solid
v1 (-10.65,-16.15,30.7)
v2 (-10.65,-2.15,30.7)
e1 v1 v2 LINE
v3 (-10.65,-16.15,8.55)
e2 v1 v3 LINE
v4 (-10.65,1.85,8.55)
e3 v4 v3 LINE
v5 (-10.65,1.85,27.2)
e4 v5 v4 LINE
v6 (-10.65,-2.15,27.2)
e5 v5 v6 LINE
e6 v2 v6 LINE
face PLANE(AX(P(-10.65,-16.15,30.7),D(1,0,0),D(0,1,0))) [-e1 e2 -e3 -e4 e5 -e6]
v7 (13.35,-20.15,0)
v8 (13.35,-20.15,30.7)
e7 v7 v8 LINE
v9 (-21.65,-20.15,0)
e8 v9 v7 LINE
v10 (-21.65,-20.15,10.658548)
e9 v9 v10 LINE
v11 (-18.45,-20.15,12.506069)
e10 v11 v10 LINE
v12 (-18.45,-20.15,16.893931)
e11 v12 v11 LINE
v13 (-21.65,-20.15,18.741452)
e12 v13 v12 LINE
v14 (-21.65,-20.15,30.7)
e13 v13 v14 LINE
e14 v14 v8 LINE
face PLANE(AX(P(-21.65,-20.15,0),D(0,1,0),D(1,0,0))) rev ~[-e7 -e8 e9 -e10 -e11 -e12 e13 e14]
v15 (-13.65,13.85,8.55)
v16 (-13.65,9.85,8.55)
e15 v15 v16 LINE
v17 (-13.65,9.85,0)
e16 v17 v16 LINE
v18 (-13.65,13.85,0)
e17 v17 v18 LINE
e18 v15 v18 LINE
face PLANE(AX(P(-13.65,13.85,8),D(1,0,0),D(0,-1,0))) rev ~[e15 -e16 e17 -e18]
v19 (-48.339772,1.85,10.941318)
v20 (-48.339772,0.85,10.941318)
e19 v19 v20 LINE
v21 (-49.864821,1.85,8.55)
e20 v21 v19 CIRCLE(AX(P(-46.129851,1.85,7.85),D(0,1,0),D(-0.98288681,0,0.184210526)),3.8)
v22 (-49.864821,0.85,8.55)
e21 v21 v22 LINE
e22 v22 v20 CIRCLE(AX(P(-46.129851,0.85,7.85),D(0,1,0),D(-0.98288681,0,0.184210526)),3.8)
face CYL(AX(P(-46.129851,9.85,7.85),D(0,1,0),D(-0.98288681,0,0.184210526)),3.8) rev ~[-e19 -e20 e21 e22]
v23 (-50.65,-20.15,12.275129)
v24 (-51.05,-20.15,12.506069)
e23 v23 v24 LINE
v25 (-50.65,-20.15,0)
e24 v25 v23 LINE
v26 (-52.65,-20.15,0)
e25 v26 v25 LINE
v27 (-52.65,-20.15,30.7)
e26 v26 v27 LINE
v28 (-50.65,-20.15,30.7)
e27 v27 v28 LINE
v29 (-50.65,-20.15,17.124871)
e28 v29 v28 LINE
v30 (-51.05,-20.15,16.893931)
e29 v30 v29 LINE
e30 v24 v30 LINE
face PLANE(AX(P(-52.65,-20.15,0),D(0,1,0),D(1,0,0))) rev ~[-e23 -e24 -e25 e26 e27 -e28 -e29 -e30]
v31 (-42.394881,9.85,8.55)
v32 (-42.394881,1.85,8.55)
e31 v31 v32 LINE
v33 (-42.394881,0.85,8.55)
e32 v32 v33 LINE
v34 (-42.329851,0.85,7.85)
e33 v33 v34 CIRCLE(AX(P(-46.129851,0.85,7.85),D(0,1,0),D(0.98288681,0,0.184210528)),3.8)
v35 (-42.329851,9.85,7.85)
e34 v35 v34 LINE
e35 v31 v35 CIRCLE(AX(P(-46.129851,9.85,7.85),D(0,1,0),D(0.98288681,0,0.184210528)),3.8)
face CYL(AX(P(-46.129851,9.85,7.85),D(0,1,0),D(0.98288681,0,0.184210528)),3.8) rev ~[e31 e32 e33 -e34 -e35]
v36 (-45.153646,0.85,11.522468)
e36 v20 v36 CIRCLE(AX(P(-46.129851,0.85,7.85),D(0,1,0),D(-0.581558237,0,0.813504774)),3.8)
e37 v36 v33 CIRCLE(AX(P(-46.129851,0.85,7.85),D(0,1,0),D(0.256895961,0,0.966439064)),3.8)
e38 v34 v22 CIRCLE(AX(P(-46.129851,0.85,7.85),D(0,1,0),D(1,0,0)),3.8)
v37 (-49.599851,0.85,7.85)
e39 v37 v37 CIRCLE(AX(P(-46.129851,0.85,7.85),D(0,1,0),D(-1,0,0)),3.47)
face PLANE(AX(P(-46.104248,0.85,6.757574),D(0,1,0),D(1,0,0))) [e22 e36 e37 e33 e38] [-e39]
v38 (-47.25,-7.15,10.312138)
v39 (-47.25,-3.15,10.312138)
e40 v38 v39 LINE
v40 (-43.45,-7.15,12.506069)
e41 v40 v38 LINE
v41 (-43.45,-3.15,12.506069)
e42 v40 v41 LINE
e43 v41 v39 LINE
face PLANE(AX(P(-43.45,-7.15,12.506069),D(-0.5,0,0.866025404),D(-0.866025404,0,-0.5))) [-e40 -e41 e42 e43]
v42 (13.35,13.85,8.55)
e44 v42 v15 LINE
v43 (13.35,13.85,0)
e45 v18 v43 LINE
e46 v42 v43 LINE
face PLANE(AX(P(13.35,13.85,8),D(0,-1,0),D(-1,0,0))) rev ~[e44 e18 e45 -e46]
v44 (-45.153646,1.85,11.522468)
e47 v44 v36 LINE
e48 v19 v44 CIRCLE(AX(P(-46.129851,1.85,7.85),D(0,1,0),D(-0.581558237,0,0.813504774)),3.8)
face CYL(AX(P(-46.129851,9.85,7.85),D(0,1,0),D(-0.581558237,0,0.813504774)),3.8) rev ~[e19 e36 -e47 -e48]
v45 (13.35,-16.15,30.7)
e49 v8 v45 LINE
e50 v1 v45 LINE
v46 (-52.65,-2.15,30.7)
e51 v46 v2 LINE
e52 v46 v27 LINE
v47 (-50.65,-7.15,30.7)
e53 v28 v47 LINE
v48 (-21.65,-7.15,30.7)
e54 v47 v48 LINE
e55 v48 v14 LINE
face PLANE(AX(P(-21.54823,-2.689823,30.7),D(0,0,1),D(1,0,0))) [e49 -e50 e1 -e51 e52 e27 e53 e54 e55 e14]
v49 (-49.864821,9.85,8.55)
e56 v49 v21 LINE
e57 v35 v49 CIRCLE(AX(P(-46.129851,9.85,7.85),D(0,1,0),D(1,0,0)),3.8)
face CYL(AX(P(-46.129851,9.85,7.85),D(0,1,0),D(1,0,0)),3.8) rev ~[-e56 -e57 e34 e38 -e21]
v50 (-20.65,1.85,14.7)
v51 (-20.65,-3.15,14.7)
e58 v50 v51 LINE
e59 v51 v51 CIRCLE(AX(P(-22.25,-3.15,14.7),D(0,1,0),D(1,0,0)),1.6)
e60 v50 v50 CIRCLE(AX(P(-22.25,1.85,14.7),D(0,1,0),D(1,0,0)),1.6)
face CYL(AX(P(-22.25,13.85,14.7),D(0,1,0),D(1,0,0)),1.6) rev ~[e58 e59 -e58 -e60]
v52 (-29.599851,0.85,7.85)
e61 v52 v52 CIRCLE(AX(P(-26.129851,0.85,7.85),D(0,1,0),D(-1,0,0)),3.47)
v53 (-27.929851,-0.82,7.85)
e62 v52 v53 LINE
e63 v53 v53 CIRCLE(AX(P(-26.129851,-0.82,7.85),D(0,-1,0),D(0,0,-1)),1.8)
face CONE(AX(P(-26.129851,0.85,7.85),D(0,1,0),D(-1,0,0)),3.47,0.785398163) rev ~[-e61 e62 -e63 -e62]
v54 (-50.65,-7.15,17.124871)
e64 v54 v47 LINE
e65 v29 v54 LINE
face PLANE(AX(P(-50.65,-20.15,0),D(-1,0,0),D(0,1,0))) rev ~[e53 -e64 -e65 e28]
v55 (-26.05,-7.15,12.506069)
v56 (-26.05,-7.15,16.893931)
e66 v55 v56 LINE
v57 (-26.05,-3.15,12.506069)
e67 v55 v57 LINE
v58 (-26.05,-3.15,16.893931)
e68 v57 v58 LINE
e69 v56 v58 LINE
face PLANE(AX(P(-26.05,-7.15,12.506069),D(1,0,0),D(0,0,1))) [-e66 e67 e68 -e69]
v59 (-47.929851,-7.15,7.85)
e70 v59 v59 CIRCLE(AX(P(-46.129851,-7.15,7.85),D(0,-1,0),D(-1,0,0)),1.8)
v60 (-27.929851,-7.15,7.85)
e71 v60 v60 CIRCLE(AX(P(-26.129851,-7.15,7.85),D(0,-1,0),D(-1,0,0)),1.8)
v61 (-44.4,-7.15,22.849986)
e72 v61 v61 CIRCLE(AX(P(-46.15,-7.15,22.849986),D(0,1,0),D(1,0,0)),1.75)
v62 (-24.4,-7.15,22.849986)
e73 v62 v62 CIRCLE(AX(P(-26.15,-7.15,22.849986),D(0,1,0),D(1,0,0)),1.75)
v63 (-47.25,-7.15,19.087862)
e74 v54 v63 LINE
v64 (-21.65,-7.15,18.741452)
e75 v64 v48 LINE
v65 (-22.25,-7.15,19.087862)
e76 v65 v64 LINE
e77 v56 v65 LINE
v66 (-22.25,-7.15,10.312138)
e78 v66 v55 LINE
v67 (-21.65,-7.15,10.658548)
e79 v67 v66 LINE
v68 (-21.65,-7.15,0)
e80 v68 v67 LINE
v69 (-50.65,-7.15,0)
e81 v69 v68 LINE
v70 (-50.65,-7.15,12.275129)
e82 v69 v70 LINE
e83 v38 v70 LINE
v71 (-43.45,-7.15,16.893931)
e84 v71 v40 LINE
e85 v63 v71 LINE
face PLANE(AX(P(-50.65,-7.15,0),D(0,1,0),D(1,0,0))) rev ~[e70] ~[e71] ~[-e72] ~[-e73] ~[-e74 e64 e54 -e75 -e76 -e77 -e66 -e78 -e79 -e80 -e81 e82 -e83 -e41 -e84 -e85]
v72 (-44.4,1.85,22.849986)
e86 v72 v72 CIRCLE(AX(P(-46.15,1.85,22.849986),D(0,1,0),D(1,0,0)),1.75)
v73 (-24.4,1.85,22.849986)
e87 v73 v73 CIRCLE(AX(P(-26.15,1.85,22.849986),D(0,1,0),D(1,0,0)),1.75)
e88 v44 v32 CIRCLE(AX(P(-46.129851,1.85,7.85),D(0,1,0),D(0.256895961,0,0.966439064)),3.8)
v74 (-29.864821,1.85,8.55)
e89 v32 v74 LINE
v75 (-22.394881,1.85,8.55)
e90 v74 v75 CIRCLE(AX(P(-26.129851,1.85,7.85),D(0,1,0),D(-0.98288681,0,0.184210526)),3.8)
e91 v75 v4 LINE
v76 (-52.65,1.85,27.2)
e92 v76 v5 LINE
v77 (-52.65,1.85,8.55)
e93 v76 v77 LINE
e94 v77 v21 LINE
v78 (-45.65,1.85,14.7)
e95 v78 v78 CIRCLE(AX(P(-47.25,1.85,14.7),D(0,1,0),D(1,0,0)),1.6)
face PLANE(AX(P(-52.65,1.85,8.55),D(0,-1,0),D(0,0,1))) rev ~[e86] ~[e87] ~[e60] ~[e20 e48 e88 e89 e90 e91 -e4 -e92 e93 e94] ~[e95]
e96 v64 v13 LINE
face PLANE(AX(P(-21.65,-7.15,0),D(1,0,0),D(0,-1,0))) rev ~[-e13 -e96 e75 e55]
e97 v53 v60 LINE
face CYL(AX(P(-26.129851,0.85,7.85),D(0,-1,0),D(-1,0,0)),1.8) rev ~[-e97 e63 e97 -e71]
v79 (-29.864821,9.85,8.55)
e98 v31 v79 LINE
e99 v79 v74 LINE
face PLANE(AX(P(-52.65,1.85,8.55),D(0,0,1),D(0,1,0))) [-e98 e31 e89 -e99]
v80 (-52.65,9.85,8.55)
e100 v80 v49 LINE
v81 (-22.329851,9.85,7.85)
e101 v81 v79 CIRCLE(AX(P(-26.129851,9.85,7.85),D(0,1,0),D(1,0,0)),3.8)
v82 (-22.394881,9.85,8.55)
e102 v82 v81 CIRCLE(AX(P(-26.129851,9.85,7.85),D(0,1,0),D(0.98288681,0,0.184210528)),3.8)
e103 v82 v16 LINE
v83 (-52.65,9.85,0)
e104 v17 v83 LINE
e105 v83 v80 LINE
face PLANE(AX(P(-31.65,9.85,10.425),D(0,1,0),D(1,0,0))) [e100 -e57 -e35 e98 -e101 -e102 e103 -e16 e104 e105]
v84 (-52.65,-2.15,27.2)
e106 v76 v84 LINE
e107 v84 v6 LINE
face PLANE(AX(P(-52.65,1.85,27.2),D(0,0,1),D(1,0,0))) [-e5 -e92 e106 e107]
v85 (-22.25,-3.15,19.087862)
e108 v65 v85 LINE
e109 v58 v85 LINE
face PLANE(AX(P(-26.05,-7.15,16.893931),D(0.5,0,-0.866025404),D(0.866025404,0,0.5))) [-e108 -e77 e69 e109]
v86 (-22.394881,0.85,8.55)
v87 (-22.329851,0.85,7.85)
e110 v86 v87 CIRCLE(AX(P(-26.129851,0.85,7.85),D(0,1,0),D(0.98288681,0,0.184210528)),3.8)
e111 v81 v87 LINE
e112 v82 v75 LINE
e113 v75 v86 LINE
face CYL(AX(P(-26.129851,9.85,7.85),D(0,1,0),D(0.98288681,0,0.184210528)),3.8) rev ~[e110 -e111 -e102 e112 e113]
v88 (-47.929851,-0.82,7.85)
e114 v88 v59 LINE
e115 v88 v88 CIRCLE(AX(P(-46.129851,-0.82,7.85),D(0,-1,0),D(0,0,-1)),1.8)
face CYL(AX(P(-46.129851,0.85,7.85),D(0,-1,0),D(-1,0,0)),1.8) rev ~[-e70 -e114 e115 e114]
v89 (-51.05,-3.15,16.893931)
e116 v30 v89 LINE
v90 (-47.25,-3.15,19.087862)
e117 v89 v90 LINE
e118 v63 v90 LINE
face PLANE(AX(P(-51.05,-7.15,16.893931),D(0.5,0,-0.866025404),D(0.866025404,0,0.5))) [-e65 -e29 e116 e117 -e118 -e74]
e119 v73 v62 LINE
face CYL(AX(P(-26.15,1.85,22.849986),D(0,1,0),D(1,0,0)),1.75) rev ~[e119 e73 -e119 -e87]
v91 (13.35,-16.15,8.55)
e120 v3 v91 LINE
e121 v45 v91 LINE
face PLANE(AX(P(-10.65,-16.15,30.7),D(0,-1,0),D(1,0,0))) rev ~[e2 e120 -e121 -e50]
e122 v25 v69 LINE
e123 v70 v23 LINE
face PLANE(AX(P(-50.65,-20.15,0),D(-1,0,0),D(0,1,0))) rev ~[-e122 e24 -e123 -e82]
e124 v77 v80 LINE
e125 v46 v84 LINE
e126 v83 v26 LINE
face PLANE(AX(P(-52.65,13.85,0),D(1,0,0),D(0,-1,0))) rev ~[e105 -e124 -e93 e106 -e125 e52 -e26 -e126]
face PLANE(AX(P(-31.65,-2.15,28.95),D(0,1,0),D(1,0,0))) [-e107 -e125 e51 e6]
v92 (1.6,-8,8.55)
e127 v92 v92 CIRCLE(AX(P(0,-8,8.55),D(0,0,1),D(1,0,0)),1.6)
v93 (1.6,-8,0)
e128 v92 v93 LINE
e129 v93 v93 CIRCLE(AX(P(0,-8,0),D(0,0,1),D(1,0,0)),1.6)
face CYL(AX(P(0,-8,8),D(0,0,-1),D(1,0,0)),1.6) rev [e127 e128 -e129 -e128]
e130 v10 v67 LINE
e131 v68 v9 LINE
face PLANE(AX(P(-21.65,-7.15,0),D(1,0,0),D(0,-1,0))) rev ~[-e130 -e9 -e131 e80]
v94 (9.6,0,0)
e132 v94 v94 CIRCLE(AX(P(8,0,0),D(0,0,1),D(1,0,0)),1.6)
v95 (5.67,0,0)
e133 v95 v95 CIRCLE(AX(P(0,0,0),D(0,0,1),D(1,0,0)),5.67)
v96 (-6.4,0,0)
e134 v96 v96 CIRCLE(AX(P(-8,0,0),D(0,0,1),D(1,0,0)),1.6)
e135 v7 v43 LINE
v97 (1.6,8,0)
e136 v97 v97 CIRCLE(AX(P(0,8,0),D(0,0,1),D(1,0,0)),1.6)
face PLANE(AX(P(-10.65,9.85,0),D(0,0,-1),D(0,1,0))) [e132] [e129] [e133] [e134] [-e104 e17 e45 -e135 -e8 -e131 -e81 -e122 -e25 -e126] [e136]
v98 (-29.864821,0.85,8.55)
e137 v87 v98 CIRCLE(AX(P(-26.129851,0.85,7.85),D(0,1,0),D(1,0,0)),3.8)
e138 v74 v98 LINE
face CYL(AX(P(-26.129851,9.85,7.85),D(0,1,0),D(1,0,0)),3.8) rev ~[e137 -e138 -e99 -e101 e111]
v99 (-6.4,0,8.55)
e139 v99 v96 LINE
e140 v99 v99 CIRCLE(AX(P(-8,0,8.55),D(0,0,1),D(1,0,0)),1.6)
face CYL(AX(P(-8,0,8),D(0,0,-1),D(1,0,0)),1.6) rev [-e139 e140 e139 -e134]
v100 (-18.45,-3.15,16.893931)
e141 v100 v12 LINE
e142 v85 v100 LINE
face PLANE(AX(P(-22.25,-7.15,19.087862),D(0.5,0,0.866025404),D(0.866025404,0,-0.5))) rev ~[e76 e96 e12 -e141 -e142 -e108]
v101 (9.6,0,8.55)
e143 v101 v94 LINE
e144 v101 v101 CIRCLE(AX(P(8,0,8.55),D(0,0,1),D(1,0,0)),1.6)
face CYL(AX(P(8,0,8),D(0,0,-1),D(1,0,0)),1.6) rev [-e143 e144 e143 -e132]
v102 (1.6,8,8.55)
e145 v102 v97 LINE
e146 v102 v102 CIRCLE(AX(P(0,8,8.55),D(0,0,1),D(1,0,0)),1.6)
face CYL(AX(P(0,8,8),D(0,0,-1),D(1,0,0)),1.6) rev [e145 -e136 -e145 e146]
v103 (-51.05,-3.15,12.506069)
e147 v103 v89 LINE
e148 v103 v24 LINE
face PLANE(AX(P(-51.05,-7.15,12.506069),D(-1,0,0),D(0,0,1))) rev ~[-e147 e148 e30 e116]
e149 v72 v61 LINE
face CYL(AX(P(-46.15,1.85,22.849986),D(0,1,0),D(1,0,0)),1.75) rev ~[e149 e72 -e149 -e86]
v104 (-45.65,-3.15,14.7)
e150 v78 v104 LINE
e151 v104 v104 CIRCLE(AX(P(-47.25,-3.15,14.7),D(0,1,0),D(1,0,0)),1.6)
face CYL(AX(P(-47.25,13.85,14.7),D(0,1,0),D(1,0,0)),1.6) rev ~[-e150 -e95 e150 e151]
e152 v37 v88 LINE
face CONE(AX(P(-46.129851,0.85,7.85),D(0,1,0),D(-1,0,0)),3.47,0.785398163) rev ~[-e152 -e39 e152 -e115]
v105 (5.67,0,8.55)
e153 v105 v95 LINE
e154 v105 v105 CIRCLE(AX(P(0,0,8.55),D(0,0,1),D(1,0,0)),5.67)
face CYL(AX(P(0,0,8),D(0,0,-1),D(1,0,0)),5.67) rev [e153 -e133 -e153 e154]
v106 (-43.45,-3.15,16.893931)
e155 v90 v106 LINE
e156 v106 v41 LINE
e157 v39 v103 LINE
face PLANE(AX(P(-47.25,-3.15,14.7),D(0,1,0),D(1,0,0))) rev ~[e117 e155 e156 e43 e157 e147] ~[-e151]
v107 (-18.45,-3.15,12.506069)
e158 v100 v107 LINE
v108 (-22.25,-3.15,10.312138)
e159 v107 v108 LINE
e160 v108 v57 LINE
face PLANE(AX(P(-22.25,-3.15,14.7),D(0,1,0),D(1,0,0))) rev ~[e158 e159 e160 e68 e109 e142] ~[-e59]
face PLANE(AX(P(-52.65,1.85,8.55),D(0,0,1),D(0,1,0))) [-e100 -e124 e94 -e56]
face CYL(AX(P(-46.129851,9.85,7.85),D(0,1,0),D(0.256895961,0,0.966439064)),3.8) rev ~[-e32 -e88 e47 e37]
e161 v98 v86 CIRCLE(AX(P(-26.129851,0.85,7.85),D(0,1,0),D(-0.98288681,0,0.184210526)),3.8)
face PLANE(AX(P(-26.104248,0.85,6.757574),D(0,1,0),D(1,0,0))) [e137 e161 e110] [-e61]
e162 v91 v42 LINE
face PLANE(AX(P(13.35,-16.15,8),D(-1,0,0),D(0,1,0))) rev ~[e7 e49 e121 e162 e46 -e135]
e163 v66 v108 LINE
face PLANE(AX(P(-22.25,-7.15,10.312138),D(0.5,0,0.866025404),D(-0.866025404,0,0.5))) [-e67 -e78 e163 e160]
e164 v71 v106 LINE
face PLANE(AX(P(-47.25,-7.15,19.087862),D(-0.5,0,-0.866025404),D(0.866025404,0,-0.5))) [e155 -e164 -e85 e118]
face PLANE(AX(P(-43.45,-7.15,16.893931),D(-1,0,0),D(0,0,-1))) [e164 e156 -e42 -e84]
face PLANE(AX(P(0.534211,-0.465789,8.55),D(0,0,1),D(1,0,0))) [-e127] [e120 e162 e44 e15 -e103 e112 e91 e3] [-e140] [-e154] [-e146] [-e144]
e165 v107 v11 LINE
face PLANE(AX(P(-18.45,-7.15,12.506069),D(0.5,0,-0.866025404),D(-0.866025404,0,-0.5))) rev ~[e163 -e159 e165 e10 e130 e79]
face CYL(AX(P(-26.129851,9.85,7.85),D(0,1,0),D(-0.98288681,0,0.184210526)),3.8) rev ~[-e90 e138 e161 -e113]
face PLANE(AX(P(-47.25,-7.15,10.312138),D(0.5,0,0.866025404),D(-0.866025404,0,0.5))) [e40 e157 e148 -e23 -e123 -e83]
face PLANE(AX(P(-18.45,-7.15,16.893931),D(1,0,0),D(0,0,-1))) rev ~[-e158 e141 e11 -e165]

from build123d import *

# Parameters (mm, degrees)
CROQUIS2_R                                           = 10.875
CROQUIS2_R_2                                         = 5.67
CROQUIS2_R_3                                         = 1.6
SALIENTE_EXTRUIR1_DEPTH                              = 30.7
CROQUIS4_W                                           = 24
CROQUIS4_H                                           = 30
CROQUIS4_R                                           = 1.6
CROQUIS4_R_2                                         = 5.67
CORTAR_EXTRUIR2_DEPTH                                = 22.7
CROQUIS3_W                                           = 12.3
CROQUIS3_H                                           = 8
CORTAR_EXTRUIR5_DEPTH                                = 42
CROQUIS5_R                                           = 1.6
CORTAR_EXTRUIR6_DEPTH                                = 35
CROQUIS7_R                                           = 1.6
CORTAR_EXTRUIR7_DEPTH                                = 4
CROQUIS9_W                                           = 8
CROQUIS9_H                                           = 4
SALIENTE_EXTRUIR4_DEPTH                              = 3
CROQUIS7_3_W                                         = 42
CROQUIS7_3_H                                         = 9.85
CORTAR_EXTRUIR8_DEPTH                                = 12
CORTAR_EXTRUIR9_START                                = 8
CORTAR_EXTRUIR9_DEPTH                                = 9
CROQUIS11_3_R                                        = 1.75
CORTAR_EXTRUIR10_DEPTH                               = 23
CORTAR_EXTRUIR11_START                               = -9
CORTAR_EXTRUIR11_DEPTH                               = 4
CORTAR_EXTRUIR11_DEPTH_BACK                          = 23
AVELLANADO_PARA_TORNILLO_CON_CABEZA_AVEL_D           = 3.6
AVELLANADO_PARA_TORNILLO_CON_CABEZA_AVEL_CSINK_D     = 6.94
AVELLANADO_PARA_TORNILLO_CON_CABEZA_AVEL_CSINK_ANGLE = 90
CROQUIS18_W                                          = 42
CROQUIS18_H                                          = 3.5
CORTAR_EXTRUIR12_DEPTH                               = 4
CROQUIS19_R                                          = 5.67
CROQUIS19_R_2                                        = 1.6
SALIENTE_EXTRUIR5_DEPTH                              = 0.55


with BuildPart() as part:
    # Croquis2 → Saliente-Extruir1 (new body)
    with BuildSketch(Plane.XY):
        Polygon((-52.65, 13.85), (-52.65, -20.15), (-50.65, -20.15), (-50.65, -17.65), (-50.65, -7.65), (-50.65, -7.15), (-49.65, -7.15), (-22.65, -7.15), (-21.65, -7.15), (-21.65, -7.65), (-21.65, -17.65), (-21.65, -20.15), (13.35, -20.15), (13.35, 13.85), align=None)
        Circle(CROQUIS2_R, mode=Mode.SUBTRACT)
        Circle(CROQUIS2_R)
        Circle(CROQUIS2_R_2, mode=Mode.SUBTRACT)
        with Locations((0, -8)):
            Circle(CROQUIS2_R_3, mode=Mode.SUBTRACT)
        with Locations((-8, 0)):
            Circle(CROQUIS2_R_3, mode=Mode.SUBTRACT)
        with Locations((8, 0)):
            Circle(CROQUIS2_R_3, mode=Mode.SUBTRACT)
        with Locations((0, 8)):
            Circle(CROQUIS2_R_3, mode=Mode.SUBTRACT)
    extrude(amount=SALIENTE_EXTRUIR1_DEPTH)

    # Croquis4 → Cortar-Extruir2 (cut)
    with BuildSketch(Plane.XY.offset(30.7)):
        with Locations((1.35, -1.15)):
            Rectangle(CROQUIS4_W, CROQUIS4_H)
        with Locations((0, -8)):
            Circle(CROQUIS4_R, mode=Mode.SUBTRACT)
        with Locations((-8, 0)):
            Circle(CROQUIS4_R, mode=Mode.SUBTRACT)
        Circle(CROQUIS4_R_2, mode=Mode.SUBTRACT)
        with Locations((0, 8)):
            Circle(CROQUIS4_R, mode=Mode.SUBTRACT)
        with Locations((8, 0)):
            Circle(CROQUIS4_R, mode=Mode.SUBTRACT)
    extrude(amount=-CORTAR_EXTRUIR2_DEPTH, mode=Mode.SUBTRACT)

    # Croquis3 → Cortar-Extruir5 (cut)
    with BuildSketch(Plane.ZY.offset(52.65)):
        with Locations((14.7, 5.85)):
            Rectangle(CROQUIS3_W, CROQUIS3_H)
    extrude(amount=-CORTAR_EXTRUIR5_DEPTH, mode=Mode.SUBTRACT)

    # Croquis5 → Cortar-Extruir6 (cut, through all)
    with BuildSketch(Plane(origin=(0, 13.85, 0), x_dir=(1, 0, 0), z_dir=(0, 1, 0))):
        with Locations((-47.25, -14.7)):
            Circle(CROQUIS5_R)
        with Locations((-22.25, -14.7)):
            Circle(CROQUIS5_R)
    extrude(amount=-CORTAR_EXTRUIR6_DEPTH, mode=Mode.SUBTRACT)

    # Croquis7 → Cortar-Extruir7 (cut)
    with BuildSketch(Plane(origin=(0, 13.85, 0), x_dir=(1, 0, 0), z_dir=(0, 1, 0))):
        Polygon((-52.65, -8.55), (-52.65, -20.85), (-10.65, -20.85), (-10.65, 0), (-52.65, 0), align=None)
        with Locations((-47.25, -14.7)):
            Circle(CROQUIS7_R, mode=Mode.SUBTRACT)
        with Locations((-22.25, -14.7)):
            Circle(CROQUIS7_R, mode=Mode.SUBTRACT)
    extrude(amount=-CORTAR_EXTRUIR7_DEPTH, mode=Mode.SUBTRACT)

    # Croquis9 → Saliente-Extruir4 (add)
    with BuildSketch(Plane.ZY.offset(10.65)):
        with Locations((4, 11.85)):
            Rectangle(CROQUIS9_W, CROQUIS9_H)
    extrude(amount=SALIENTE_EXTRUIR4_DEPTH)

    # Croquis7<3> → Cortar-Extruir8 (cut)
    with BuildSketch(Plane(origin=(0, 13.85, 0), x_dir=(1, 0, 0), z_dir=(0, 1, 0))):
        with Locations((-31.65, -25.775)):
            Rectangle(CROQUIS7_3_W, CROQUIS7_3_H)
    extrude(amount=-CORTAR_EXTRUIR8_DEPTH, mode=Mode.SUBTRACT)

    # Croquis11 → Cortar-Extruir9 (cut)
    with BuildSketch(Plane(origin=(0, 1.85, 0), x_dir=(1, 0, 0), z_dir=(0, 1, 0)).offset(CORTAR_EXTRUIR9_START)):
        with BuildLine():
            ThreePointArc((-42.32985075, -7.85), (-46.481357833, -4.066292457), (-49.86482063, -8.55))
            Line((-49.86482063, -8.55), (-47.733752244, -8.55))
            ThreePointArc((-47.733752244, -8.55), (-46.487392627, -6.136913952), (-44.37985075, -7.85))
            ThreePointArc((-44.37985075, -7.85), (-44.416764703, -8.207541876), (-44.525949257, -8.55))
            Line((-44.525949257, -8.55), (-42.394880871, -8.55))
            ThreePointArc((-42.394880871, -8.55), (-42.346143207, -8.201507083), (-42.32985075, -7.85))
        make_face()
        with BuildLine():
            Line((-48.33977205, -10.941318141), (-47.25, -10.312137954))
            Line((-47.25, -10.312137954), (-45.153646097, -11.522468444))
            ThreePointArc((-45.153646097, -11.522468444), (-43.344588908, -10.435017692), (-42.394880871, -8.55))
            Line((-42.394880871, -8.55), (-44.525949257, -8.55))
            ThreePointArc((-44.525949257, -8.55), (-46.12985075, -9.6), (-47.733752244, -8.55))
            Line((-47.733752244, -8.55), (-49.86482063, -8.55))
            ThreePointArc((-49.86482063, -8.55), (-49.333759831, -9.893273502), (-48.33977205, -10.941318141))
        make_face()
        with BuildLine():
            Line((-45.153646097, -11.522468444), (-47.25, -10.312137954))
            Line((-47.25, -10.312137954), (-48.33977205, -10.941318141))
            ThreePointArc((-48.33977205, -10.941318141), (-46.811721787, -11.588322069), (-45.153646097, -11.522468444))
        make_face()
        with BuildLine():
            Line((-44.525949257, -8.55), (-47.733752244, -8.55))
            ThreePointArc((-47.733752244, -8.55), (-46.12985075, -9.6), (-44.525949257, -8.55))
        make_face()
        with BuildLine():
            ThreePointArc((-44.37985075, -7.85), (-46.487392627, -6.136913952), (-47.733752244, -8.55))
            Line((-47.733752244, -8.55), (-44.525949257, -8.55))
            ThreePointArc((-44.525949257, -8.55), (-44.416764703, -8.207541876), (-44.37985075, -7.85))
        make_face()
        with BuildLine():
            ThreePointArc((-22.32985075, -7.85), (-26.481357833, -4.066292457), (-29.86482063, -8.55))
            Line((-29.86482063, -8.55), (-27.733752244, -8.55))
            ThreePointArc((-27.733752244, -8.55), (-26.487392627, -6.136913952), (-24.37985075, -7.85))
            ThreePointArc((-24.37985075, -7.85), (-24.416764703, -8.207541876), (-24.525949257, -8.55))
            Line((-24.525949257, -8.55), (-22.394880871, -8.55))
            ThreePointArc((-22.394880871, -8.55), (-22.346143207, -8.201507083), (-22.32985075, -7.85))
        make_face()
        with BuildLine():
            Line((-27.733752244, -8.55), (-29.86482063, -8.55))
            ThreePointArc((-29.86482063, -8.55), (-26.12985075, -11.65), (-22.394880871, -8.55))
            Line((-22.394880871, -8.55), (-24.525949257, -8.55))
            ThreePointArc((-24.525949257, -8.55), (-26.12985075, -9.6), (-27.733752244, -8.55))
        make_face()
        with BuildLine():
            Line((-24.525949257, -8.55), (-27.733752244, -8.55))
            ThreePointArc((-27.733752244, -8.55), (-26.12985075, -9.6), (-24.525949257, -8.55))
        make_face()
        with BuildLine():
            ThreePointArc((-24.37985075, -7.85), (-26.487392627, -6.136913952), (-27.733752244, -8.55))
            Line((-27.733752244, -8.55), (-24.525949257, -8.55))
            ThreePointArc((-24.525949257, -8.55), (-24.416764703, -8.207541876), (-24.37985075, -7.85))
        make_face()
    extrude(amount=-CORTAR_EXTRUIR9_DEPTH, mode=Mode.SUBTRACT)

    # Croquis11<3> → Cortar-Extruir10 (cut, through all)
    with BuildSketch(Plane(origin=(0, 1.85, 0), x_dir=(1, 0, 0), z_dir=(0, 1, 0))):
        with BuildLine():
            Line((-44.525949257, -8.55), (-47.733752244, -8.55))
            ThreePointArc((-47.733752244, -8.55), (-46.12985075, -9.6), (-44.525949257, -8.55))
        make_face()
        with BuildLine():
            ThreePointArc((-44.37985075, -7.85), (-46.487392627, -6.136913952), (-47.733752244, -8.55))
            Line((-47.733752244, -8.55), (-44.525949257, -8.55))
            ThreePointArc((-44.525949257, -8.55), (-44.416764703, -8.207541876), (-44.37985075, -7.85))
        make_face()
        with BuildLine():
            Line((-24.525949257, -8.55), (-27.733752244, -8.55))
            ThreePointArc((-27.733752244, -8.55), (-26.12985075, -9.6), (-24.525949257, -8.55))
        make_face()
        with BuildLine():
            ThreePointArc((-24.37985075, -7.85), (-26.487392627, -6.136913952), (-27.733752244, -8.55))
            Line((-27.733752244, -8.55), (-24.525949257, -8.55))
            ThreePointArc((-24.525949257, -8.55), (-24.416764703, -8.207541876), (-24.37985075, -7.85))
        make_face()
        with Locations((-26.15, -22.849986467)):
            Circle(CROQUIS11_3_R)
        with Locations((-46.15, -22.849986467)):
            Circle(CROQUIS11_3_R)
    extrude(amount=-CORTAR_EXTRUIR10_DEPTH, mode=Mode.SUBTRACT)

    # Croquis11<4> → Cortar-Extruir11 (cut, two sides)
    with BuildSketch(Plane(origin=(0, 1.85, 0), x_dir=(1, 0, 0), z_dir=(0, 1, 0)).offset(CORTAR_EXTRUIR11_START)) as cortar_extruir11_sk:
        Polygon((-47.25, -10.312137954), (-51.05, -12.506068977), (-51.05, -16.893931023), (-47.25, -19.087862046), (-43.45, -16.893931023), (-43.45, -12.506068977), align=None)
        Polygon((-22.25, -10.312137954), (-26.05, -12.506068977), (-26.05, -16.893931023), (-22.25, -19.087862046), (-18.45, -16.893931023), (-18.45, -12.506068977), align=None)
    extrude(amount=CORTAR_EXTRUIR11_DEPTH, mode=Mode.SUBTRACT)
    extrude(cortar_extruir11_sk.sketch, amount=-CORTAR_EXTRUIR11_DEPTH_BACK, mode=Mode.SUBTRACT)

    # Avellanado para tornillo con cabeza avellanada de clavija hexagonal de M31 (through all)
    with Locations(Plane(origin=(0, 0.85, 0), x_dir=(1, 0, 0), z_dir=(0, 1, 0))):
        with Locations((-46.12985075, -7.85), (-26.12985075, -7.85)):
            CounterSinkHole(AVELLANADO_PARA_TORNILLO_CON_CABEZA_AVEL_D / 2, AVELLANADO_PARA_TORNILLO_CON_CABEZA_AVEL_CSINK_D / 2, counter_sink_angle=AVELLANADO_PARA_TORNILLO_CON_CABEZA_AVEL_CSINK_ANGLE)

    # Croquis18 → Cortar-Extruir12 (cut)
    with BuildSketch(Plane(origin=(0, 1.85, 0), x_dir=(1, 0, 0), z_dir=(0, 1, 0))):
        with Locations((-31.65, -28.95)):
            Rectangle(CROQUIS18_W, CROQUIS18_H)
    extrude(amount=-CORTAR_EXTRUIR12_DEPTH, mode=Mode.SUBTRACT)

    # Croquis19 → Saliente-Extruir5 (add)
    with BuildSketch(Plane.XY.offset(8)):
        Polygon((-10.65, 9.85), (-10.65, -16.15), (13.35, -16.15), (13.35, 13.85), (-13.65, 13.85), (-13.65, 9.85), align=None)
        Circle(CROQUIS19_R, mode=Mode.SUBTRACT)
        with Locations((0, -8)):
            Circle(CROQUIS19_R_2, mode=Mode.SUBTRACT)
        with Locations((8, 0)):
            Circle(CROQUIS19_R_2, mode=Mode.SUBTRACT)
        with Locations((0, 8)):
            Circle(CROQUIS19_R_2, mode=Mode.SUBTRACT)
        with Locations((-8, 0)):
            Circle(CROQUIS19_R_2, mode=Mode.SUBTRACT)
    extrude(amount=SALIENTE_EXTRUIR5_DEPTH)


solid = part.part
